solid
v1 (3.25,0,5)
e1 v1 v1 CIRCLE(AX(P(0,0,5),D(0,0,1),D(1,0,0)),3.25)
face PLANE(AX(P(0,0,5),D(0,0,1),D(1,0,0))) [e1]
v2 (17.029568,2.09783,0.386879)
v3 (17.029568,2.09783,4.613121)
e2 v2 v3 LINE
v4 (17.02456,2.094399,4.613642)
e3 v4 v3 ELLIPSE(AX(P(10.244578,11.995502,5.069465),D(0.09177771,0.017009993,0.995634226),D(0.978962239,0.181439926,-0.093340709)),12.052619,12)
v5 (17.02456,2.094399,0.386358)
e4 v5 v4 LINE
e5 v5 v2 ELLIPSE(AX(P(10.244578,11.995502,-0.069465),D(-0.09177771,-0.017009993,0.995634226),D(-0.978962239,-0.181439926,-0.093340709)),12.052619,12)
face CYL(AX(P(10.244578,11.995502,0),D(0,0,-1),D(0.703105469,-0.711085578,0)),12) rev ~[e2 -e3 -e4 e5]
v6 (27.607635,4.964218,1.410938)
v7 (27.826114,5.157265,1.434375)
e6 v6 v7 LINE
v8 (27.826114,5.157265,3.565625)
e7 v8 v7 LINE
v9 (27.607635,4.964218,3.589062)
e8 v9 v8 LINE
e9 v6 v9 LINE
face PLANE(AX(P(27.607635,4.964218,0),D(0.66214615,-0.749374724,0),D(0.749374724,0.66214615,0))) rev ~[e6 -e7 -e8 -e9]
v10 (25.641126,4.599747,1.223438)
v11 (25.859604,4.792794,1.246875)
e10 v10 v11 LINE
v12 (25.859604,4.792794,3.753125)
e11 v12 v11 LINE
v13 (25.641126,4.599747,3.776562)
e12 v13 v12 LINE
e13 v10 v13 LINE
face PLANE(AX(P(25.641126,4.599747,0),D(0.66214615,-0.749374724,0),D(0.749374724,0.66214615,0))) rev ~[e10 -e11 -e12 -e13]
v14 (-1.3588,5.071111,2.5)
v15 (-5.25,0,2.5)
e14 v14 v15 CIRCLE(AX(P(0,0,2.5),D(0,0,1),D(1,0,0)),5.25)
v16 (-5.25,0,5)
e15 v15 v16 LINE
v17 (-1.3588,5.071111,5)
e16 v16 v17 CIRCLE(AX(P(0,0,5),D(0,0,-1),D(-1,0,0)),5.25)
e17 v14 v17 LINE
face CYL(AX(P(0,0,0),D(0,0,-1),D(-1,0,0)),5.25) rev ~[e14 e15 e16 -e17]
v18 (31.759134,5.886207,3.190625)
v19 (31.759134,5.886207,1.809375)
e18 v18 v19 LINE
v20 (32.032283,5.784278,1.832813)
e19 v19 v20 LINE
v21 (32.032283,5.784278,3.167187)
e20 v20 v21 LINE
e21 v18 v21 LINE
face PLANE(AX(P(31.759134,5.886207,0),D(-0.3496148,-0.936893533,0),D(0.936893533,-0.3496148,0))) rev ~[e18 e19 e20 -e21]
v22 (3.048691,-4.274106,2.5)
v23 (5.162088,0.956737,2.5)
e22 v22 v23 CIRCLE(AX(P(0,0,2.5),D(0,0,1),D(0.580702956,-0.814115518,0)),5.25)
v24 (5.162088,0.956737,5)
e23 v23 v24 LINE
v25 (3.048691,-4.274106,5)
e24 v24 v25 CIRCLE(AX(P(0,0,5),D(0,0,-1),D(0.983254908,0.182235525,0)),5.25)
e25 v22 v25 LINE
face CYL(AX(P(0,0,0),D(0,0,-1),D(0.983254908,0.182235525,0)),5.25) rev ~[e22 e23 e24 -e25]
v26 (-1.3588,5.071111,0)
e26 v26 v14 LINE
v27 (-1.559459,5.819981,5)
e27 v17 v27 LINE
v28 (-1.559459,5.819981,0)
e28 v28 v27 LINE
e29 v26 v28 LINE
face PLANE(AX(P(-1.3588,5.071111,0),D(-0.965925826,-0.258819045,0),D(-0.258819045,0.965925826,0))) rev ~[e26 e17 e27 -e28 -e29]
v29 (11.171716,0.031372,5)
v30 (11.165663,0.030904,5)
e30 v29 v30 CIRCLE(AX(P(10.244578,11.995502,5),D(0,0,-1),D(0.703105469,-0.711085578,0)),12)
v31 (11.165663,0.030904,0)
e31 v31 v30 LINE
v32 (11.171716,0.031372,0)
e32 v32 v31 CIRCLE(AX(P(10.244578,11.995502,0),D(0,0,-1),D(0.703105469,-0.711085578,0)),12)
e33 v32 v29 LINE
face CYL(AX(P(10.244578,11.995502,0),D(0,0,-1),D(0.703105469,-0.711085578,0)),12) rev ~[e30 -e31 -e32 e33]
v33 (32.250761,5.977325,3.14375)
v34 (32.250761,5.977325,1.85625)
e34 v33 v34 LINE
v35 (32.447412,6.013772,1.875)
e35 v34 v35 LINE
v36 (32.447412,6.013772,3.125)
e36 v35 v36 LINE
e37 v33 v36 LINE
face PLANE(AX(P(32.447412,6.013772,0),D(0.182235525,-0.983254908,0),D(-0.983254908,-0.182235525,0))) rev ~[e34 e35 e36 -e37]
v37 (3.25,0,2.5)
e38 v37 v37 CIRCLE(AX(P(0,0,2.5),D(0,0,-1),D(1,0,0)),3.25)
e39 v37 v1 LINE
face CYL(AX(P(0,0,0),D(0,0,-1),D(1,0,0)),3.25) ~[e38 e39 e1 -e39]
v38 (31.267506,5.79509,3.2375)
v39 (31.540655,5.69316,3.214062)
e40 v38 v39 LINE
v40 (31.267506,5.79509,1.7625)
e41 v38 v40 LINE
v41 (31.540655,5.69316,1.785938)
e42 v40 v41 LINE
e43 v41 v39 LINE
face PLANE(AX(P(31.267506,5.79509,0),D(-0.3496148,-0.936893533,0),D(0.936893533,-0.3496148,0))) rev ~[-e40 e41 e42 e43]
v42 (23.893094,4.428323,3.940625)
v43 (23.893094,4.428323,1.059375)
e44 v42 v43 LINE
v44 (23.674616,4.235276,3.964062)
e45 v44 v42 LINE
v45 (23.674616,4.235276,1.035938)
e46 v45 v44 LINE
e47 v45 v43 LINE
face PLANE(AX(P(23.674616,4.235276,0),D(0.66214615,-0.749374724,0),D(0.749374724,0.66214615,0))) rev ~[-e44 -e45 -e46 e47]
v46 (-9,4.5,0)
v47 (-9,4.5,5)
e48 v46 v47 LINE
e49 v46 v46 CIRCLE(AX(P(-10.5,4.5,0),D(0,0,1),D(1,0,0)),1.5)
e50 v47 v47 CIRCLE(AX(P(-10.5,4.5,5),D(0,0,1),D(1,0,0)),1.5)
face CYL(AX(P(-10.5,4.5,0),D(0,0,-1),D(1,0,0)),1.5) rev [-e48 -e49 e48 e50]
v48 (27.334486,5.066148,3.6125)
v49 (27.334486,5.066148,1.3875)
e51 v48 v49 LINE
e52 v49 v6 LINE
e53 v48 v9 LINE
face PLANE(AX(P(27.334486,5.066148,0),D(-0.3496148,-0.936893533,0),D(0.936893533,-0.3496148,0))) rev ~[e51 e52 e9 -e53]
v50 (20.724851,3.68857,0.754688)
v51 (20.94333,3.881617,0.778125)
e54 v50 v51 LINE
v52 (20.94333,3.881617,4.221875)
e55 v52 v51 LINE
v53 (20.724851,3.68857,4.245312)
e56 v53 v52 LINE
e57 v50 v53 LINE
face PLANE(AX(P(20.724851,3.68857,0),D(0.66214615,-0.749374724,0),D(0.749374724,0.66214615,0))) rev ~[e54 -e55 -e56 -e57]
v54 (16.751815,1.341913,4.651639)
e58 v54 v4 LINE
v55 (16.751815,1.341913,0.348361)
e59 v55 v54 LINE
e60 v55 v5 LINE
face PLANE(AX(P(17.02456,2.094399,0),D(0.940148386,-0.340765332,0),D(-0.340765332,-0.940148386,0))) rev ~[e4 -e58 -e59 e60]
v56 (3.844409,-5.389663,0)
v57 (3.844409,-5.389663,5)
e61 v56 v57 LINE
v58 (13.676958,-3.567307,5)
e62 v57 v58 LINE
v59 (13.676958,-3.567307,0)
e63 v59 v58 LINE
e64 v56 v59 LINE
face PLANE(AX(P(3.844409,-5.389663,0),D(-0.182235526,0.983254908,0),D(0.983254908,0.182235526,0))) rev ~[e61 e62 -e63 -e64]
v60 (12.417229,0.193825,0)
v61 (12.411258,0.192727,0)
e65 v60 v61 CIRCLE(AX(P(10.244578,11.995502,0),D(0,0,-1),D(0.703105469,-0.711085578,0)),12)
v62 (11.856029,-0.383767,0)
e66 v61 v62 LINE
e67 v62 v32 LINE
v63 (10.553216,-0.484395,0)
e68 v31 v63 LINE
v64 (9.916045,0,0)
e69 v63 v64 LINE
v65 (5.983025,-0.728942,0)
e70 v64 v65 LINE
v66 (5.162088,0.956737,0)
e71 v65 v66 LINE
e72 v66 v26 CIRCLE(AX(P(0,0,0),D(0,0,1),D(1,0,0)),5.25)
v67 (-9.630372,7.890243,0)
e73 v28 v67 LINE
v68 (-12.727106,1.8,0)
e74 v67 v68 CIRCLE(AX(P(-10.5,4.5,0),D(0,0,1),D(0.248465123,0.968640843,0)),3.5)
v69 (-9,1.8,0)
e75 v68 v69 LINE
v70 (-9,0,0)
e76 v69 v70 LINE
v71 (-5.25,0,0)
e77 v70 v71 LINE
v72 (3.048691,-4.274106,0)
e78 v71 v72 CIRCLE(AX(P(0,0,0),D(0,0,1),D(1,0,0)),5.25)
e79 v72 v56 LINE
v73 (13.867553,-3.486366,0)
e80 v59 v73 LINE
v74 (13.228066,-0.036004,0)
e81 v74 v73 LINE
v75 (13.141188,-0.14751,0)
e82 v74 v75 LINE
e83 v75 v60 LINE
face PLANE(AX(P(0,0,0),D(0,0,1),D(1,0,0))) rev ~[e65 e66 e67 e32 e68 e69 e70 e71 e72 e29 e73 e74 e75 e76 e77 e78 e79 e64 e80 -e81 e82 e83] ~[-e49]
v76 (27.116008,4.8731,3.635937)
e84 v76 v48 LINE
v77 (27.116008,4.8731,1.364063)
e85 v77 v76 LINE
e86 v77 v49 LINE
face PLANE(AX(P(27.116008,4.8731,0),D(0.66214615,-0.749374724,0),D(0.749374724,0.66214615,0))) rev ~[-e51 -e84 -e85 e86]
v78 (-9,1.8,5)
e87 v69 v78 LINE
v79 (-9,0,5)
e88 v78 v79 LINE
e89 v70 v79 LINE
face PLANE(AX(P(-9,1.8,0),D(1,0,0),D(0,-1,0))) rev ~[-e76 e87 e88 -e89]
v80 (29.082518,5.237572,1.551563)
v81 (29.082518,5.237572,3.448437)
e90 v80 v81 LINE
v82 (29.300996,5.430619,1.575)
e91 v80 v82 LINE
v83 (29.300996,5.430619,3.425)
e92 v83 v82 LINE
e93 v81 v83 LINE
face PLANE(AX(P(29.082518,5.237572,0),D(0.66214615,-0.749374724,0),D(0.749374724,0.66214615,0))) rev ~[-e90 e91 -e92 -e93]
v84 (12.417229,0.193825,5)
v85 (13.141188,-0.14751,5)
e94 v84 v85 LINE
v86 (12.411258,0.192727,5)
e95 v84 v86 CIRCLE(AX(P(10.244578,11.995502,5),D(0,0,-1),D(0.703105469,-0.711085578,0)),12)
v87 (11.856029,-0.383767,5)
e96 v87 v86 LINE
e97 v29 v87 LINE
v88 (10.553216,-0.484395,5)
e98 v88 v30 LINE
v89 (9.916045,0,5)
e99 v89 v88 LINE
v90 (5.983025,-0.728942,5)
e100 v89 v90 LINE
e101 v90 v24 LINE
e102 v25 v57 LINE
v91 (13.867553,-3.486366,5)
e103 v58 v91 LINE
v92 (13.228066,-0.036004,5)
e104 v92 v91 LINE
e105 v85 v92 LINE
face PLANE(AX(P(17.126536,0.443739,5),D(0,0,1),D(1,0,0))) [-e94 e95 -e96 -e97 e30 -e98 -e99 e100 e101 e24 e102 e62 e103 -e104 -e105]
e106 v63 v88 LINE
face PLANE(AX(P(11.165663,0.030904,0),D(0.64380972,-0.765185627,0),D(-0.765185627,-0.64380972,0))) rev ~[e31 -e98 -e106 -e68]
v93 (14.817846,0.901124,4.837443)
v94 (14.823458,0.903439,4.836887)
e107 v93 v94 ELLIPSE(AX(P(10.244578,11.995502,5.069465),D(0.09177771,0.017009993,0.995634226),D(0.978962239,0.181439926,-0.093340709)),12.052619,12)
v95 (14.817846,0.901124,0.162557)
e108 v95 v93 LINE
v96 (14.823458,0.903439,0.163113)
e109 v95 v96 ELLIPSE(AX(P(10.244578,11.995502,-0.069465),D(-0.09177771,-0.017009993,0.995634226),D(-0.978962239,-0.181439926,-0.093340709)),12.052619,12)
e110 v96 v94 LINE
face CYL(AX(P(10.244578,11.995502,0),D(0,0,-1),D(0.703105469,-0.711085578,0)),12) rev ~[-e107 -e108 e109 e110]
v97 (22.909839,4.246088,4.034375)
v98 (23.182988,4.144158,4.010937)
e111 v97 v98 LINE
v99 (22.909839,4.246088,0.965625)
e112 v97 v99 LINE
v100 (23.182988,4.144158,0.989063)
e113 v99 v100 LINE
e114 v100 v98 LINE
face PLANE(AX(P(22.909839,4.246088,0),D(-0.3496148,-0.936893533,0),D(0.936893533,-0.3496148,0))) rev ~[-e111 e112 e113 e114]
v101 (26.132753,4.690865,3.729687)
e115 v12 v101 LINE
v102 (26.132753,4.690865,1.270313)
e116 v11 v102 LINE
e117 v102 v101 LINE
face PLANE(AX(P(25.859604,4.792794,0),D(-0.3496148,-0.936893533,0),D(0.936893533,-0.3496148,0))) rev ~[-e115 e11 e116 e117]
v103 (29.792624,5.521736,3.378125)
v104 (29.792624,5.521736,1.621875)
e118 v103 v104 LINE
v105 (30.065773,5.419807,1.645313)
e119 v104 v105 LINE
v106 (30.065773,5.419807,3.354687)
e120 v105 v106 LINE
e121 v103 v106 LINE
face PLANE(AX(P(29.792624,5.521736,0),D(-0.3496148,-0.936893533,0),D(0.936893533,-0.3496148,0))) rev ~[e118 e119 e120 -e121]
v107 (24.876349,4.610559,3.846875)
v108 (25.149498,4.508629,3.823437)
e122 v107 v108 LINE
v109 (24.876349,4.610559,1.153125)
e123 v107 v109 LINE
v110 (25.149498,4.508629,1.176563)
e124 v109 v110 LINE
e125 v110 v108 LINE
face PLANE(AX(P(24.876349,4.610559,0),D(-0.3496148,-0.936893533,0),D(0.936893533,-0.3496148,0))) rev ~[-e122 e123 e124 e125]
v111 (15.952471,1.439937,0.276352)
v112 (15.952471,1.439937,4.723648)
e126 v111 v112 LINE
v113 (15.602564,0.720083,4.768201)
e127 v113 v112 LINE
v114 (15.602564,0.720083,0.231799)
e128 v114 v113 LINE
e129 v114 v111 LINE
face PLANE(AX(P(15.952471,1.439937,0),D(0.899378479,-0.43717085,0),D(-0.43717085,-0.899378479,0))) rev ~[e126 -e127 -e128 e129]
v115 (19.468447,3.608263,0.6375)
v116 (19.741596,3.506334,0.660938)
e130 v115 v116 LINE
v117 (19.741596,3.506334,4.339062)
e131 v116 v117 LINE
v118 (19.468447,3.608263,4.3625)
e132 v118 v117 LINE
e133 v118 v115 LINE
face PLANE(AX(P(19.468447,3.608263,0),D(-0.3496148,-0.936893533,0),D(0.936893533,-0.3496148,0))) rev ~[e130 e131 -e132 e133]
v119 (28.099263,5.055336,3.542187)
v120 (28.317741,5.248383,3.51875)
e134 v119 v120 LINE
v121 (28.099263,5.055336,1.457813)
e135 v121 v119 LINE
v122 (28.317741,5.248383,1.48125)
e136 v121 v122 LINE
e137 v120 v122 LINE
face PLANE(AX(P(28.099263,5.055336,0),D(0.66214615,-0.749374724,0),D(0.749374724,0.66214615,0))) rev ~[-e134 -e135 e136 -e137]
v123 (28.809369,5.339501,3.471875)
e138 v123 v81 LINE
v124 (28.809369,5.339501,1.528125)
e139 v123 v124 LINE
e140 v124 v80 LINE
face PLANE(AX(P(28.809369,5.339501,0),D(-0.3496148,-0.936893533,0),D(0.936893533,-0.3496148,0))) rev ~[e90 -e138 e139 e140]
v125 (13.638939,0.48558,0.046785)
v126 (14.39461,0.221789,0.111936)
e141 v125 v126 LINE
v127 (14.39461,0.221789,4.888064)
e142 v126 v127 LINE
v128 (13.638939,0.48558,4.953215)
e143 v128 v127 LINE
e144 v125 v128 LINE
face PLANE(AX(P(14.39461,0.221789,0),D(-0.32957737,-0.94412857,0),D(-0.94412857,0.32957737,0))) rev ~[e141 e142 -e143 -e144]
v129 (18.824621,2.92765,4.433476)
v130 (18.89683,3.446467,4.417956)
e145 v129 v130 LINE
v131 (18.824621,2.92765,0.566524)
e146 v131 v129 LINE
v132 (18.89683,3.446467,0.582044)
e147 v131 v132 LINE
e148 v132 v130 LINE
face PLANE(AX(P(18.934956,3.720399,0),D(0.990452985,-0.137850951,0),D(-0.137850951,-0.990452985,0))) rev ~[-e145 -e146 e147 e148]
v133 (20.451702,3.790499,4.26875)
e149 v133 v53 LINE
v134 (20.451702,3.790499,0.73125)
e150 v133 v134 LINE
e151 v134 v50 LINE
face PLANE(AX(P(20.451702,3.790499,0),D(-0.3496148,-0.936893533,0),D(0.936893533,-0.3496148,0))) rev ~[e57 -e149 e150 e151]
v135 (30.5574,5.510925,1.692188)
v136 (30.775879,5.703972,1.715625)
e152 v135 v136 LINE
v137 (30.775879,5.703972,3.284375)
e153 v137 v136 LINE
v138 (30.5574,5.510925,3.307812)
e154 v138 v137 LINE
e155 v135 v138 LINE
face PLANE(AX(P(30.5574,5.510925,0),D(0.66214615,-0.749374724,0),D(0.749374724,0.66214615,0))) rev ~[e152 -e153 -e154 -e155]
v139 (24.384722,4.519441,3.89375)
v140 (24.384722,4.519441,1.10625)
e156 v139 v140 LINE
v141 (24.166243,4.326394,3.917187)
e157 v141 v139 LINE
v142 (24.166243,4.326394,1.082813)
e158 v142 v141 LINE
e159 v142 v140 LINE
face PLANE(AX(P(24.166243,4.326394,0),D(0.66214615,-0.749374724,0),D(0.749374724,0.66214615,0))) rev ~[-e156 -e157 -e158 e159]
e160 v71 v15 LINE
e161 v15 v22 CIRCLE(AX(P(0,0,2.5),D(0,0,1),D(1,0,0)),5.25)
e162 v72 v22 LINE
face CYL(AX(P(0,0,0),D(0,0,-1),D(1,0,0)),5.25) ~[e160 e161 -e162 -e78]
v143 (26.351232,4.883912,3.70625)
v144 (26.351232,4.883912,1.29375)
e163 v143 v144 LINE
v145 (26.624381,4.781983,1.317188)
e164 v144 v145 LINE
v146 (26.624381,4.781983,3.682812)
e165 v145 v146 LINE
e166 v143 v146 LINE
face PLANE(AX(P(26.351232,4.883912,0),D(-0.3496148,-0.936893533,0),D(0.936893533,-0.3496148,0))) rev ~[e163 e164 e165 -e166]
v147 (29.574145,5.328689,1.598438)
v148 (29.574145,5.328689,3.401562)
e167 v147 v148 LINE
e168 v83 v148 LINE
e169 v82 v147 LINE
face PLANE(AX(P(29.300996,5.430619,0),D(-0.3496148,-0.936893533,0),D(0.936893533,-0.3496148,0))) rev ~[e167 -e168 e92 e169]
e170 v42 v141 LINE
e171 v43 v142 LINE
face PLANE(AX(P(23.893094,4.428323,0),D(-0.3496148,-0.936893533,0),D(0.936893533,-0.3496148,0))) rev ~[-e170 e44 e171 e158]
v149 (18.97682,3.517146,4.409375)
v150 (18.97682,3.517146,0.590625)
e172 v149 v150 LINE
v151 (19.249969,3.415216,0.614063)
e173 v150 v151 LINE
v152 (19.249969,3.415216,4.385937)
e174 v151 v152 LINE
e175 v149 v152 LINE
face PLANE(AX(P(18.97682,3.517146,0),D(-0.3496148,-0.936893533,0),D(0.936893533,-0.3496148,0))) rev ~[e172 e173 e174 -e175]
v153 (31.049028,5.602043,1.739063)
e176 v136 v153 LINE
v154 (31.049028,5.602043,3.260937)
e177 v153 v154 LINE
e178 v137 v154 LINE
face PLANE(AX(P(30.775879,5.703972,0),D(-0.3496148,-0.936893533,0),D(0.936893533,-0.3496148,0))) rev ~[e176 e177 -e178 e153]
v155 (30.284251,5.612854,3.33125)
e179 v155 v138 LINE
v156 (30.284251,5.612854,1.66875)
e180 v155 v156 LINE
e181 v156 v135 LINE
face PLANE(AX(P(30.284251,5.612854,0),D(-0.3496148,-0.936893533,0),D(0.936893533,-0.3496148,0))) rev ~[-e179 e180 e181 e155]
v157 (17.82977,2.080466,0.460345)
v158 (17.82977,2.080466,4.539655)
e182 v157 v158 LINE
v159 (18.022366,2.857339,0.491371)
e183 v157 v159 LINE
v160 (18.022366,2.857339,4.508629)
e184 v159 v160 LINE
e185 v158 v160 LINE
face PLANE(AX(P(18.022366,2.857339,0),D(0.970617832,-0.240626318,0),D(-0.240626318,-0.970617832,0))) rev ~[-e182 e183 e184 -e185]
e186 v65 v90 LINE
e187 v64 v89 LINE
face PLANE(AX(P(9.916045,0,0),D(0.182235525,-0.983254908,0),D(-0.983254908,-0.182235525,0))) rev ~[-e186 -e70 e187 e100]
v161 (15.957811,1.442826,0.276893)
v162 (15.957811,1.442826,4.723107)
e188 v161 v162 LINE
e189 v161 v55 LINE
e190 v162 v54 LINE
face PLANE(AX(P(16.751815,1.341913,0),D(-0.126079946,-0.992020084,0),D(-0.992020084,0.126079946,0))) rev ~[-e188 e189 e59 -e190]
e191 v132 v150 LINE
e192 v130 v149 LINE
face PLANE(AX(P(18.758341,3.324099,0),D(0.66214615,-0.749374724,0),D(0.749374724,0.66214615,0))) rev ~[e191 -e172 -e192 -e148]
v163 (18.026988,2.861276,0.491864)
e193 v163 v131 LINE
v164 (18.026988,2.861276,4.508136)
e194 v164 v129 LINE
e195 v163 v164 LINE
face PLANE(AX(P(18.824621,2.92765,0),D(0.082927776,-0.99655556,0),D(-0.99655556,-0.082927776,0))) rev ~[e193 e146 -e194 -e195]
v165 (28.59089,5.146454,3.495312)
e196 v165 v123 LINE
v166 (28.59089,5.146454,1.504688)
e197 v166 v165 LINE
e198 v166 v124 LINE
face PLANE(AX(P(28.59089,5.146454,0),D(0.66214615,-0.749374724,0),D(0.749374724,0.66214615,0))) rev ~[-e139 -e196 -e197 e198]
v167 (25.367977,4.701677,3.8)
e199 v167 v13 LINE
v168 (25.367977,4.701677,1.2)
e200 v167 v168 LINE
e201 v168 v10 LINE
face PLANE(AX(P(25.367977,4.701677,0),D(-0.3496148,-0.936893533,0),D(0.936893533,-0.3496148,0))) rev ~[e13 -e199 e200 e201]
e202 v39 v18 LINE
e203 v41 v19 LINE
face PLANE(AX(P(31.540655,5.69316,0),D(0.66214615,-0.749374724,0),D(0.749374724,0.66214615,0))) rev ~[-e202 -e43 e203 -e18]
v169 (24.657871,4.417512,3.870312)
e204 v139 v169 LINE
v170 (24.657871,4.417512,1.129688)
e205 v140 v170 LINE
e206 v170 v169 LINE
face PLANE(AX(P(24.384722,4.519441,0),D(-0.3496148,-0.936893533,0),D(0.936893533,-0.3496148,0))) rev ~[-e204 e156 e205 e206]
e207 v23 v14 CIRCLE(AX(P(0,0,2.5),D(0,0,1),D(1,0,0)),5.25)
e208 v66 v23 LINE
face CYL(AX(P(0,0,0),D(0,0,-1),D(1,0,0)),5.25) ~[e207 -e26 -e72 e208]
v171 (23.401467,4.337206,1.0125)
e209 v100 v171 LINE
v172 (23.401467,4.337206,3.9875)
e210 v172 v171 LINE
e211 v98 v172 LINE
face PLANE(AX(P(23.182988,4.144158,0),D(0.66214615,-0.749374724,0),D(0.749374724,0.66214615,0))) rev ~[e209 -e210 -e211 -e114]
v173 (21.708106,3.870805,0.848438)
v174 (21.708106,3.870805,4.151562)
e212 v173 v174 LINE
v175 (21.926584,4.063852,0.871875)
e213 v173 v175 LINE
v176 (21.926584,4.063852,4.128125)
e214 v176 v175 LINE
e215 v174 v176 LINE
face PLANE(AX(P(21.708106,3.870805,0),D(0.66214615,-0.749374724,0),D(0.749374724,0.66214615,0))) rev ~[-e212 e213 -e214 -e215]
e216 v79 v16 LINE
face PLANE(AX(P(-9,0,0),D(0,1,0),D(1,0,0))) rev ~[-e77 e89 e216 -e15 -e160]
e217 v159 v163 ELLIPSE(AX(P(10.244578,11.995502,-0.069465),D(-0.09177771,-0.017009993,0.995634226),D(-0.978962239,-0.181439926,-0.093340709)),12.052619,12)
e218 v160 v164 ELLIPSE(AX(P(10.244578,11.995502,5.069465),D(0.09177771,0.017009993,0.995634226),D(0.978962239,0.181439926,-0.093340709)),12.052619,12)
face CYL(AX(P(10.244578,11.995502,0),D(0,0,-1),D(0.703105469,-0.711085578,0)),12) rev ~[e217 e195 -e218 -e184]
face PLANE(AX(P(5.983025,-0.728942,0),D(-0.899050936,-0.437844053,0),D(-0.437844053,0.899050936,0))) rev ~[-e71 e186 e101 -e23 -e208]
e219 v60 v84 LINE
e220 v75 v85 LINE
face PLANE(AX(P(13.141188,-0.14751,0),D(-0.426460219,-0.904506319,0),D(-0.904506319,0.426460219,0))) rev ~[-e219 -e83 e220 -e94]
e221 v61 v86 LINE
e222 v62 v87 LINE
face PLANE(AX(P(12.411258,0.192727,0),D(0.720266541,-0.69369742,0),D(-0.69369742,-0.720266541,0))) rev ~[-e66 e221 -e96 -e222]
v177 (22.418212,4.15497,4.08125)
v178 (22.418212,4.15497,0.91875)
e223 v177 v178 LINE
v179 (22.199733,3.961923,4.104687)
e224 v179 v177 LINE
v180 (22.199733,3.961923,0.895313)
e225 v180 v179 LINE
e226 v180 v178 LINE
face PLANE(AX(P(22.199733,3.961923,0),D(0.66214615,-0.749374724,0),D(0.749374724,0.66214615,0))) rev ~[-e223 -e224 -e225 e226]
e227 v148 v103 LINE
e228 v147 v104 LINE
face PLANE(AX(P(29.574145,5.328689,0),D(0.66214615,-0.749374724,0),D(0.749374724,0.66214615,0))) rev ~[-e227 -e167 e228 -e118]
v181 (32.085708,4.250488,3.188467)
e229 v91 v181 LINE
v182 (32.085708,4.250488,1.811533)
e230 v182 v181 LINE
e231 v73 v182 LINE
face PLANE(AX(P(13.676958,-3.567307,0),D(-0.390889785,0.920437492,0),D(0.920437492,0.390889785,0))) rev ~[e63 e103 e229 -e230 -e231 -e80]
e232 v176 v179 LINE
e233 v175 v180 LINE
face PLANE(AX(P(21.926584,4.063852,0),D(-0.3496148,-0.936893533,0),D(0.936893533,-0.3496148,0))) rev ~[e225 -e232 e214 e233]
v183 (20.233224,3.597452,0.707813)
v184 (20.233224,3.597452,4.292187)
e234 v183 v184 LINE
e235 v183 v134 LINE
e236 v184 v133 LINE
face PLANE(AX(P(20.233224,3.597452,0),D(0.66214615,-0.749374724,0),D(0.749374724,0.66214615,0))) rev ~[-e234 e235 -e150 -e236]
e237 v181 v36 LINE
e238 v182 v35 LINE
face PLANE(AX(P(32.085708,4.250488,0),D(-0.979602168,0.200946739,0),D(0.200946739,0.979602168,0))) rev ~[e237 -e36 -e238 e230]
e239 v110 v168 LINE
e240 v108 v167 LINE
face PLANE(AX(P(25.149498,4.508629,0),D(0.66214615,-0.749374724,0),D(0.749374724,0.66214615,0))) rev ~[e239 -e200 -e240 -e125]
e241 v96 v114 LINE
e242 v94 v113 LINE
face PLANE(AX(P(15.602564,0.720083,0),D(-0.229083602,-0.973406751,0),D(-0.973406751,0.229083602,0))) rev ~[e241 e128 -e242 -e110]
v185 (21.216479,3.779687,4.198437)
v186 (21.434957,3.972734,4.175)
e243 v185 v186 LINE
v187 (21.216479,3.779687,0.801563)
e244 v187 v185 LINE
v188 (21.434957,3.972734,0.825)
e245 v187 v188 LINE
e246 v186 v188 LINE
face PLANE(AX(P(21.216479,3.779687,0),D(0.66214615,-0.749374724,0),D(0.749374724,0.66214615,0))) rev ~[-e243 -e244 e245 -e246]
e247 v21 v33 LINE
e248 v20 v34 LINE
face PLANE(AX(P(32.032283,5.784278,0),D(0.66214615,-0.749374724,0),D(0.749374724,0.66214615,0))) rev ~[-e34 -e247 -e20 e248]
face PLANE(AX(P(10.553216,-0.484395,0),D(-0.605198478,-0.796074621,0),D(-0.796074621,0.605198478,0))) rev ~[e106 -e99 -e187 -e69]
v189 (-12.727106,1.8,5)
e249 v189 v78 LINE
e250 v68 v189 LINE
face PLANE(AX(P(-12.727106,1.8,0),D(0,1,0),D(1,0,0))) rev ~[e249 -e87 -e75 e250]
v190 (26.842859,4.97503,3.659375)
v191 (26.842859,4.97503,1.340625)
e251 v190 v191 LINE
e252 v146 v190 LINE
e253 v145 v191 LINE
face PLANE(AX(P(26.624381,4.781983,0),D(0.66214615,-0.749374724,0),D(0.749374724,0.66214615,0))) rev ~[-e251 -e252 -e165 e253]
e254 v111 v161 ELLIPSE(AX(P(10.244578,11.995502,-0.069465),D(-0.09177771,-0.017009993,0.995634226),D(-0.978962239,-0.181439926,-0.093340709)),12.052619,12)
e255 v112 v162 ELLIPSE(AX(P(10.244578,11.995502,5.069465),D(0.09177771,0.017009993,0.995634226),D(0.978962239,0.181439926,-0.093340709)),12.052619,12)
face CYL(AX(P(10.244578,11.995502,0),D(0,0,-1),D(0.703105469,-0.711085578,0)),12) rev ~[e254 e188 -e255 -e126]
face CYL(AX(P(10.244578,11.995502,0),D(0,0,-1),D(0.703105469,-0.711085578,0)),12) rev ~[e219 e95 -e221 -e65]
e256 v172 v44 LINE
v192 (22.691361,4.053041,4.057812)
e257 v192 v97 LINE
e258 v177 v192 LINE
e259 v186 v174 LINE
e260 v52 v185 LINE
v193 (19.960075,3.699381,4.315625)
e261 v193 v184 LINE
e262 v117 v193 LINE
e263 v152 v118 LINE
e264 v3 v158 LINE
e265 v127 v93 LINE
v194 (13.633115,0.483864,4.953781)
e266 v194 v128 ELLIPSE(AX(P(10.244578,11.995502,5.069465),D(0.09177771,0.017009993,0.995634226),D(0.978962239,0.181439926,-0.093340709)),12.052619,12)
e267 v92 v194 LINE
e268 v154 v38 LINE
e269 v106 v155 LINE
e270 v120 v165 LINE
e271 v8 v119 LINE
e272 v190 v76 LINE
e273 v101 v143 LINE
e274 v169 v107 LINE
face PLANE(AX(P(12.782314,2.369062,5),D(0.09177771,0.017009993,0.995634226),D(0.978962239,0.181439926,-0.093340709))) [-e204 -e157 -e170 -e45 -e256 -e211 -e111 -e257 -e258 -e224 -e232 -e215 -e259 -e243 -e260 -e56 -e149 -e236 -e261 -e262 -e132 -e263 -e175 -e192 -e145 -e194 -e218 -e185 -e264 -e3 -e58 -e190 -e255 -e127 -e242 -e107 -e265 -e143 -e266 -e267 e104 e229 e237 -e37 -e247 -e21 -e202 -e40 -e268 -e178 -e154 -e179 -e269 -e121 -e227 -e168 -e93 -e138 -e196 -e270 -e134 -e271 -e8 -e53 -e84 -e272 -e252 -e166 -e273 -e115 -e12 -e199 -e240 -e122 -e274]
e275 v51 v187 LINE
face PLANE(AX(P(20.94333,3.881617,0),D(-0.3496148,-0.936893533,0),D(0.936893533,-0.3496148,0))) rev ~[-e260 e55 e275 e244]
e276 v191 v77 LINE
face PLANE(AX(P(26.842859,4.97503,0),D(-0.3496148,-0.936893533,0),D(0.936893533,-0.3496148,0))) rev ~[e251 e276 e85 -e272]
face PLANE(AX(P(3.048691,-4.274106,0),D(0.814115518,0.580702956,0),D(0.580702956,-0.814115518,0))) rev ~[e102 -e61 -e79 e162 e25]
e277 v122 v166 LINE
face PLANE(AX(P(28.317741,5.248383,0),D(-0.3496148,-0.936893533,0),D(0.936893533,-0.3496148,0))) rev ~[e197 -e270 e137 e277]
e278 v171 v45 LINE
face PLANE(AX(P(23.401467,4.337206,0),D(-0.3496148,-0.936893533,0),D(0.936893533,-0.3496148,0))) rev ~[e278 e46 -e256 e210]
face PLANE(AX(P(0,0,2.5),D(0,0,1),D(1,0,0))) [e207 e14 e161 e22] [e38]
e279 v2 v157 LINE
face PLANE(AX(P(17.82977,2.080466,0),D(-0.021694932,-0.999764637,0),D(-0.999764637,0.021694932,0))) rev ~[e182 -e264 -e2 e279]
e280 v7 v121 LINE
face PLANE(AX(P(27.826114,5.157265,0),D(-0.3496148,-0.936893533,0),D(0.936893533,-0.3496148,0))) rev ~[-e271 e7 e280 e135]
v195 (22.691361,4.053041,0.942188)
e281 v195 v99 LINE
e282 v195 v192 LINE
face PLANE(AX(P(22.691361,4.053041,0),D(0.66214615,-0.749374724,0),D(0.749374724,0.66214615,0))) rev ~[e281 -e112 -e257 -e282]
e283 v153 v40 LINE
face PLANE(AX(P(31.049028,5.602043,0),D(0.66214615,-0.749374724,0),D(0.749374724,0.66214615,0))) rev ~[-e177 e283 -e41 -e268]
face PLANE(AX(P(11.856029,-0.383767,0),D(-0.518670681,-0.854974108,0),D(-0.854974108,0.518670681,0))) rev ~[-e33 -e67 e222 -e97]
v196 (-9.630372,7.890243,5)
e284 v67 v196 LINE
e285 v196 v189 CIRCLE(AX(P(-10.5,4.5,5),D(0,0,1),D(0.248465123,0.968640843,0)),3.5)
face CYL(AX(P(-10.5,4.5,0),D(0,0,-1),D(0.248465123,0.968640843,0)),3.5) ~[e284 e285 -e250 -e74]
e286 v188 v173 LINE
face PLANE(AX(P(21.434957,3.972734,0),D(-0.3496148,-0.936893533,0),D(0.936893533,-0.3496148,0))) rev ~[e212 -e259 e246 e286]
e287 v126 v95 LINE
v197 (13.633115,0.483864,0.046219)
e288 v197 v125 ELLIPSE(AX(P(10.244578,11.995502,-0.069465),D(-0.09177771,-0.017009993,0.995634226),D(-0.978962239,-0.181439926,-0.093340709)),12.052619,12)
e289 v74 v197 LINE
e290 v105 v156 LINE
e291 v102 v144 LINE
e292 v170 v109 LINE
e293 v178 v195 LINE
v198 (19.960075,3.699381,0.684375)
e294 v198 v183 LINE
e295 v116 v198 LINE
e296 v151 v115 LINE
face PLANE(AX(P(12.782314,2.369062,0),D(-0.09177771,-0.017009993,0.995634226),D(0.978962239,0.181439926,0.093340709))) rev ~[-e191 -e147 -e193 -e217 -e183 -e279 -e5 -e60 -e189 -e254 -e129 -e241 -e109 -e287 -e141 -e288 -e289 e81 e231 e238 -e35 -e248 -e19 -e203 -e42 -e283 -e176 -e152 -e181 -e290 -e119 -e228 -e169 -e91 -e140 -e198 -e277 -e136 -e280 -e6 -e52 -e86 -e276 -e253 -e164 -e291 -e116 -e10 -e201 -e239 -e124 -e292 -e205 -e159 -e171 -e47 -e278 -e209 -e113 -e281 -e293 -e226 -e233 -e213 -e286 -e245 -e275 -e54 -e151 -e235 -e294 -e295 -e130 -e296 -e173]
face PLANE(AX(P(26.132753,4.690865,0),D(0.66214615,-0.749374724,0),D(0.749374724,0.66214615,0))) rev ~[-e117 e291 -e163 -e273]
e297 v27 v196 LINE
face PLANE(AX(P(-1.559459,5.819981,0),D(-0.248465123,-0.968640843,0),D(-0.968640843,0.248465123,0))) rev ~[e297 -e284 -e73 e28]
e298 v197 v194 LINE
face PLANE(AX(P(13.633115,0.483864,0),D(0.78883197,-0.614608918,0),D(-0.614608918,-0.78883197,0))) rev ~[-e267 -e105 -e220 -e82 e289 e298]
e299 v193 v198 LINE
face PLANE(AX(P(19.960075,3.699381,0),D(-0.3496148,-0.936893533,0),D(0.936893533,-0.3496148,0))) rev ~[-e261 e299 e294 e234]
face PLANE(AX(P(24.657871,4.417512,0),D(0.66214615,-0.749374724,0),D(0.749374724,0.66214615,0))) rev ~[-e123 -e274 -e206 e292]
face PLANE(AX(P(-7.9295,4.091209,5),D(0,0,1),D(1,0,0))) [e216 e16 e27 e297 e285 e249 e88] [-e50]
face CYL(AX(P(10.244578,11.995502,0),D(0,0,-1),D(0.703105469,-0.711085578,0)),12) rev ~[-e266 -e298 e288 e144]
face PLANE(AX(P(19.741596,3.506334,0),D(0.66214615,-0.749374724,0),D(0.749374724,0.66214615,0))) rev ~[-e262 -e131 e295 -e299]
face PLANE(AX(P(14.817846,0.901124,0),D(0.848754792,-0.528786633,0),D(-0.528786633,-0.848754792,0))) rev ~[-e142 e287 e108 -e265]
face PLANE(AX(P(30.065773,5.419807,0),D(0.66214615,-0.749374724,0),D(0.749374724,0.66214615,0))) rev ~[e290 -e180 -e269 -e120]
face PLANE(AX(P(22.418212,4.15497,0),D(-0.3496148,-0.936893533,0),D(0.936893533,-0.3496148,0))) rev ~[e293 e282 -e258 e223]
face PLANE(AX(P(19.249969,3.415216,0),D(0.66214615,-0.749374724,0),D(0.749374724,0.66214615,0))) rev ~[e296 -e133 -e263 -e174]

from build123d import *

# Parameters (mm, degrees)
SKETCH1_R             = 1.5
BOSS_EXTRUDE1_DEPTH   = 5
BOSS_EXTRUDE1_2_DEPTH = 5
SKETCH1_3_R           = 5.25
BOSS_EXTRUDE2_DEPTH   = 2.5
SKETCH1_4_R           = 3.25
BOSS_EXTRUDE3_DEPTH   = 5
CUT_EXTRUDE1_DEPTH    = 34.791042337
CUT_EXTRUDE2_DEPTH    = 34.791042337
LPATTERN1_COUNT       = 28
LPATTERN1_PITCH       = 0.5
CUT_EXTRUDE3_DEPTH    = 34.791042337
CIRPATTERN1_COUNT     = 8
CIRPATTERN1_ANGLE     = 42


with BuildPart() as part:
    # Sketch1 → Boss-Extrude1 (new body)
    with BuildSketch(Plane.XY):
        with BuildLine():
            Line((-1.559459186, 5.819980914), (-9.630372069, 7.89024295))
            ThreePointArc((-9.630372069, 7.89024295), (-13.619847961, 6.086363356), (-12.727105745, 1.8))
            Line((-12.727105745, 1.8), (-9, 1.8))
            Line((-9, 1.8), (-9, 0))
            Line((-9, 0), (-5.25, 0))
            ThreePointArc((-5.25, 0), (-4.165105037, 3.195997502), (-1.358799987, 5.071110588))
            Line((-1.358799987, 5.071110588), (-1.559459186, 5.819980914))
        make_face()
        with Locations((-10.5, 4.5)):
            Circle(SKETCH1_R, mode=Mode.SUBTRACT)
    extrude(amount=BOSS_EXTRUDE1_DEPTH)



with BuildPart() as body_2:
    # Sketch1 → Boss-Extrude1 2 (new body)
    with BuildSketch(Plane.XY):
        with BuildLine():
            Line((5.983025461, -0.728942102), (5.162088265, 0.956736509))
            ThreePointArc((5.162088265, 0.956736509), (4.867715236, -1.966684615), (3.048690517, -4.274106471))
            Line((3.048690517, -4.274106471), (3.844408913, -5.389662519))
            Line((3.844408913, -5.389662519), (13.676957988, -3.567307264))
            Line((13.676957988, -3.567307264), (32.08570782, 4.250488438))
            Line((32.08570782, 4.250488438), (32.44741195, 6.013772341))
            Line((32.44741195, 6.013772341), (18.681843244, 3.462474984))
            ThreePointArc((18.681843244, 3.462474984), (14.653100202, 0.834635979), (9.916045092, 0))
            Line((9.916045092, 0), (5.983025461, -0.728942102))
        make_face()
    extrude(amount=BOSS_EXTRUDE1_2_DEPTH)


with BuildPart() as part_1:
    add(part.part)

    add(body_2.part)  # Boss-Extrude2 merges body 2
    # Sketch1<3> → Boss-Extrude2 (add)
    with BuildSketch(Plane.XY):
        Circle(SKETCH1_3_R)
    extrude(amount=BOSS_EXTRUDE2_DEPTH)

    # Sketch1<4> → Boss-Extrude3 (add)
    with BuildSketch(Plane.XY):
        Circle(SKETCH1_4_R)
    extrude(amount=BOSS_EXTRUDE3_DEPTH)

    # Sketch2 → Cut-Extrude1 (cut, through all)
    with BuildSketch(Plane(origin=(0, 0, 0), x_dir=(0.9832549075639557, 0.18223552549214142, 0), z_dir=(-0.18223552549214142, 0.9832549075639557, 0))):
        Polygon((13, 0), (33, -1.875), (33, 0), align=None)
        Polygon((33, -3.125), (33, -5), (13, -5), align=None)
    extrude(amount=-CUT_EXTRUDE1_DEPTH, mode=Mode.SUBTRACT)

    # Sketch3 → Cut-Extrude2 (cut, symmetric)
    with BuildSketch(Plane.XY):
        Polygon((31.759133514, 5.886207473), (32.03228257, 5.784278119), (32.250760968, 5.977325236), align=None)
    cut_extrude2 = extrude(amount=CUT_EXTRUDE2_DEPTH, both=True, mode=Mode.SUBTRACT)

    # LPattern1: Cut-Extrude2 ×28
    with Locations(*[Vector(-0.983254907563956, -0.1822355254921403, 0) * (i * LPATTERN1_PITCH) for i in range(1, LPATTERN1_COUNT)]):
        add(cut_extrude2, mode=Mode.SUBTRACT)

    # Sketch4 → Cut-Extrude3 (cut, through all)
    with BuildSketch(Plane.XY):
        Polygon((9.916045092, 0), (11.165663009, 0.030904073), (10.553215679, -0.48439513), align=None)
    cut_extrude3 = extrude(amount=CUT_EXTRUDE3_DEPTH, mode=Mode.SUBTRACT)

    # CirPattern1: Cut-Extrude3 ×8 about axis
    cirpattern1_axis = Axis((10.244577616, 11.995501923, 0), (0, 0, 1))
    for i in range(1, CIRPATTERN1_COUNT):
        add(cut_extrude3.rotate(cirpattern1_axis, i * CIRPATTERN1_ANGLE / (CIRPATTERN1_COUNT - 1)), mode=Mode.SUBTRACT)


solid = part_1.part
